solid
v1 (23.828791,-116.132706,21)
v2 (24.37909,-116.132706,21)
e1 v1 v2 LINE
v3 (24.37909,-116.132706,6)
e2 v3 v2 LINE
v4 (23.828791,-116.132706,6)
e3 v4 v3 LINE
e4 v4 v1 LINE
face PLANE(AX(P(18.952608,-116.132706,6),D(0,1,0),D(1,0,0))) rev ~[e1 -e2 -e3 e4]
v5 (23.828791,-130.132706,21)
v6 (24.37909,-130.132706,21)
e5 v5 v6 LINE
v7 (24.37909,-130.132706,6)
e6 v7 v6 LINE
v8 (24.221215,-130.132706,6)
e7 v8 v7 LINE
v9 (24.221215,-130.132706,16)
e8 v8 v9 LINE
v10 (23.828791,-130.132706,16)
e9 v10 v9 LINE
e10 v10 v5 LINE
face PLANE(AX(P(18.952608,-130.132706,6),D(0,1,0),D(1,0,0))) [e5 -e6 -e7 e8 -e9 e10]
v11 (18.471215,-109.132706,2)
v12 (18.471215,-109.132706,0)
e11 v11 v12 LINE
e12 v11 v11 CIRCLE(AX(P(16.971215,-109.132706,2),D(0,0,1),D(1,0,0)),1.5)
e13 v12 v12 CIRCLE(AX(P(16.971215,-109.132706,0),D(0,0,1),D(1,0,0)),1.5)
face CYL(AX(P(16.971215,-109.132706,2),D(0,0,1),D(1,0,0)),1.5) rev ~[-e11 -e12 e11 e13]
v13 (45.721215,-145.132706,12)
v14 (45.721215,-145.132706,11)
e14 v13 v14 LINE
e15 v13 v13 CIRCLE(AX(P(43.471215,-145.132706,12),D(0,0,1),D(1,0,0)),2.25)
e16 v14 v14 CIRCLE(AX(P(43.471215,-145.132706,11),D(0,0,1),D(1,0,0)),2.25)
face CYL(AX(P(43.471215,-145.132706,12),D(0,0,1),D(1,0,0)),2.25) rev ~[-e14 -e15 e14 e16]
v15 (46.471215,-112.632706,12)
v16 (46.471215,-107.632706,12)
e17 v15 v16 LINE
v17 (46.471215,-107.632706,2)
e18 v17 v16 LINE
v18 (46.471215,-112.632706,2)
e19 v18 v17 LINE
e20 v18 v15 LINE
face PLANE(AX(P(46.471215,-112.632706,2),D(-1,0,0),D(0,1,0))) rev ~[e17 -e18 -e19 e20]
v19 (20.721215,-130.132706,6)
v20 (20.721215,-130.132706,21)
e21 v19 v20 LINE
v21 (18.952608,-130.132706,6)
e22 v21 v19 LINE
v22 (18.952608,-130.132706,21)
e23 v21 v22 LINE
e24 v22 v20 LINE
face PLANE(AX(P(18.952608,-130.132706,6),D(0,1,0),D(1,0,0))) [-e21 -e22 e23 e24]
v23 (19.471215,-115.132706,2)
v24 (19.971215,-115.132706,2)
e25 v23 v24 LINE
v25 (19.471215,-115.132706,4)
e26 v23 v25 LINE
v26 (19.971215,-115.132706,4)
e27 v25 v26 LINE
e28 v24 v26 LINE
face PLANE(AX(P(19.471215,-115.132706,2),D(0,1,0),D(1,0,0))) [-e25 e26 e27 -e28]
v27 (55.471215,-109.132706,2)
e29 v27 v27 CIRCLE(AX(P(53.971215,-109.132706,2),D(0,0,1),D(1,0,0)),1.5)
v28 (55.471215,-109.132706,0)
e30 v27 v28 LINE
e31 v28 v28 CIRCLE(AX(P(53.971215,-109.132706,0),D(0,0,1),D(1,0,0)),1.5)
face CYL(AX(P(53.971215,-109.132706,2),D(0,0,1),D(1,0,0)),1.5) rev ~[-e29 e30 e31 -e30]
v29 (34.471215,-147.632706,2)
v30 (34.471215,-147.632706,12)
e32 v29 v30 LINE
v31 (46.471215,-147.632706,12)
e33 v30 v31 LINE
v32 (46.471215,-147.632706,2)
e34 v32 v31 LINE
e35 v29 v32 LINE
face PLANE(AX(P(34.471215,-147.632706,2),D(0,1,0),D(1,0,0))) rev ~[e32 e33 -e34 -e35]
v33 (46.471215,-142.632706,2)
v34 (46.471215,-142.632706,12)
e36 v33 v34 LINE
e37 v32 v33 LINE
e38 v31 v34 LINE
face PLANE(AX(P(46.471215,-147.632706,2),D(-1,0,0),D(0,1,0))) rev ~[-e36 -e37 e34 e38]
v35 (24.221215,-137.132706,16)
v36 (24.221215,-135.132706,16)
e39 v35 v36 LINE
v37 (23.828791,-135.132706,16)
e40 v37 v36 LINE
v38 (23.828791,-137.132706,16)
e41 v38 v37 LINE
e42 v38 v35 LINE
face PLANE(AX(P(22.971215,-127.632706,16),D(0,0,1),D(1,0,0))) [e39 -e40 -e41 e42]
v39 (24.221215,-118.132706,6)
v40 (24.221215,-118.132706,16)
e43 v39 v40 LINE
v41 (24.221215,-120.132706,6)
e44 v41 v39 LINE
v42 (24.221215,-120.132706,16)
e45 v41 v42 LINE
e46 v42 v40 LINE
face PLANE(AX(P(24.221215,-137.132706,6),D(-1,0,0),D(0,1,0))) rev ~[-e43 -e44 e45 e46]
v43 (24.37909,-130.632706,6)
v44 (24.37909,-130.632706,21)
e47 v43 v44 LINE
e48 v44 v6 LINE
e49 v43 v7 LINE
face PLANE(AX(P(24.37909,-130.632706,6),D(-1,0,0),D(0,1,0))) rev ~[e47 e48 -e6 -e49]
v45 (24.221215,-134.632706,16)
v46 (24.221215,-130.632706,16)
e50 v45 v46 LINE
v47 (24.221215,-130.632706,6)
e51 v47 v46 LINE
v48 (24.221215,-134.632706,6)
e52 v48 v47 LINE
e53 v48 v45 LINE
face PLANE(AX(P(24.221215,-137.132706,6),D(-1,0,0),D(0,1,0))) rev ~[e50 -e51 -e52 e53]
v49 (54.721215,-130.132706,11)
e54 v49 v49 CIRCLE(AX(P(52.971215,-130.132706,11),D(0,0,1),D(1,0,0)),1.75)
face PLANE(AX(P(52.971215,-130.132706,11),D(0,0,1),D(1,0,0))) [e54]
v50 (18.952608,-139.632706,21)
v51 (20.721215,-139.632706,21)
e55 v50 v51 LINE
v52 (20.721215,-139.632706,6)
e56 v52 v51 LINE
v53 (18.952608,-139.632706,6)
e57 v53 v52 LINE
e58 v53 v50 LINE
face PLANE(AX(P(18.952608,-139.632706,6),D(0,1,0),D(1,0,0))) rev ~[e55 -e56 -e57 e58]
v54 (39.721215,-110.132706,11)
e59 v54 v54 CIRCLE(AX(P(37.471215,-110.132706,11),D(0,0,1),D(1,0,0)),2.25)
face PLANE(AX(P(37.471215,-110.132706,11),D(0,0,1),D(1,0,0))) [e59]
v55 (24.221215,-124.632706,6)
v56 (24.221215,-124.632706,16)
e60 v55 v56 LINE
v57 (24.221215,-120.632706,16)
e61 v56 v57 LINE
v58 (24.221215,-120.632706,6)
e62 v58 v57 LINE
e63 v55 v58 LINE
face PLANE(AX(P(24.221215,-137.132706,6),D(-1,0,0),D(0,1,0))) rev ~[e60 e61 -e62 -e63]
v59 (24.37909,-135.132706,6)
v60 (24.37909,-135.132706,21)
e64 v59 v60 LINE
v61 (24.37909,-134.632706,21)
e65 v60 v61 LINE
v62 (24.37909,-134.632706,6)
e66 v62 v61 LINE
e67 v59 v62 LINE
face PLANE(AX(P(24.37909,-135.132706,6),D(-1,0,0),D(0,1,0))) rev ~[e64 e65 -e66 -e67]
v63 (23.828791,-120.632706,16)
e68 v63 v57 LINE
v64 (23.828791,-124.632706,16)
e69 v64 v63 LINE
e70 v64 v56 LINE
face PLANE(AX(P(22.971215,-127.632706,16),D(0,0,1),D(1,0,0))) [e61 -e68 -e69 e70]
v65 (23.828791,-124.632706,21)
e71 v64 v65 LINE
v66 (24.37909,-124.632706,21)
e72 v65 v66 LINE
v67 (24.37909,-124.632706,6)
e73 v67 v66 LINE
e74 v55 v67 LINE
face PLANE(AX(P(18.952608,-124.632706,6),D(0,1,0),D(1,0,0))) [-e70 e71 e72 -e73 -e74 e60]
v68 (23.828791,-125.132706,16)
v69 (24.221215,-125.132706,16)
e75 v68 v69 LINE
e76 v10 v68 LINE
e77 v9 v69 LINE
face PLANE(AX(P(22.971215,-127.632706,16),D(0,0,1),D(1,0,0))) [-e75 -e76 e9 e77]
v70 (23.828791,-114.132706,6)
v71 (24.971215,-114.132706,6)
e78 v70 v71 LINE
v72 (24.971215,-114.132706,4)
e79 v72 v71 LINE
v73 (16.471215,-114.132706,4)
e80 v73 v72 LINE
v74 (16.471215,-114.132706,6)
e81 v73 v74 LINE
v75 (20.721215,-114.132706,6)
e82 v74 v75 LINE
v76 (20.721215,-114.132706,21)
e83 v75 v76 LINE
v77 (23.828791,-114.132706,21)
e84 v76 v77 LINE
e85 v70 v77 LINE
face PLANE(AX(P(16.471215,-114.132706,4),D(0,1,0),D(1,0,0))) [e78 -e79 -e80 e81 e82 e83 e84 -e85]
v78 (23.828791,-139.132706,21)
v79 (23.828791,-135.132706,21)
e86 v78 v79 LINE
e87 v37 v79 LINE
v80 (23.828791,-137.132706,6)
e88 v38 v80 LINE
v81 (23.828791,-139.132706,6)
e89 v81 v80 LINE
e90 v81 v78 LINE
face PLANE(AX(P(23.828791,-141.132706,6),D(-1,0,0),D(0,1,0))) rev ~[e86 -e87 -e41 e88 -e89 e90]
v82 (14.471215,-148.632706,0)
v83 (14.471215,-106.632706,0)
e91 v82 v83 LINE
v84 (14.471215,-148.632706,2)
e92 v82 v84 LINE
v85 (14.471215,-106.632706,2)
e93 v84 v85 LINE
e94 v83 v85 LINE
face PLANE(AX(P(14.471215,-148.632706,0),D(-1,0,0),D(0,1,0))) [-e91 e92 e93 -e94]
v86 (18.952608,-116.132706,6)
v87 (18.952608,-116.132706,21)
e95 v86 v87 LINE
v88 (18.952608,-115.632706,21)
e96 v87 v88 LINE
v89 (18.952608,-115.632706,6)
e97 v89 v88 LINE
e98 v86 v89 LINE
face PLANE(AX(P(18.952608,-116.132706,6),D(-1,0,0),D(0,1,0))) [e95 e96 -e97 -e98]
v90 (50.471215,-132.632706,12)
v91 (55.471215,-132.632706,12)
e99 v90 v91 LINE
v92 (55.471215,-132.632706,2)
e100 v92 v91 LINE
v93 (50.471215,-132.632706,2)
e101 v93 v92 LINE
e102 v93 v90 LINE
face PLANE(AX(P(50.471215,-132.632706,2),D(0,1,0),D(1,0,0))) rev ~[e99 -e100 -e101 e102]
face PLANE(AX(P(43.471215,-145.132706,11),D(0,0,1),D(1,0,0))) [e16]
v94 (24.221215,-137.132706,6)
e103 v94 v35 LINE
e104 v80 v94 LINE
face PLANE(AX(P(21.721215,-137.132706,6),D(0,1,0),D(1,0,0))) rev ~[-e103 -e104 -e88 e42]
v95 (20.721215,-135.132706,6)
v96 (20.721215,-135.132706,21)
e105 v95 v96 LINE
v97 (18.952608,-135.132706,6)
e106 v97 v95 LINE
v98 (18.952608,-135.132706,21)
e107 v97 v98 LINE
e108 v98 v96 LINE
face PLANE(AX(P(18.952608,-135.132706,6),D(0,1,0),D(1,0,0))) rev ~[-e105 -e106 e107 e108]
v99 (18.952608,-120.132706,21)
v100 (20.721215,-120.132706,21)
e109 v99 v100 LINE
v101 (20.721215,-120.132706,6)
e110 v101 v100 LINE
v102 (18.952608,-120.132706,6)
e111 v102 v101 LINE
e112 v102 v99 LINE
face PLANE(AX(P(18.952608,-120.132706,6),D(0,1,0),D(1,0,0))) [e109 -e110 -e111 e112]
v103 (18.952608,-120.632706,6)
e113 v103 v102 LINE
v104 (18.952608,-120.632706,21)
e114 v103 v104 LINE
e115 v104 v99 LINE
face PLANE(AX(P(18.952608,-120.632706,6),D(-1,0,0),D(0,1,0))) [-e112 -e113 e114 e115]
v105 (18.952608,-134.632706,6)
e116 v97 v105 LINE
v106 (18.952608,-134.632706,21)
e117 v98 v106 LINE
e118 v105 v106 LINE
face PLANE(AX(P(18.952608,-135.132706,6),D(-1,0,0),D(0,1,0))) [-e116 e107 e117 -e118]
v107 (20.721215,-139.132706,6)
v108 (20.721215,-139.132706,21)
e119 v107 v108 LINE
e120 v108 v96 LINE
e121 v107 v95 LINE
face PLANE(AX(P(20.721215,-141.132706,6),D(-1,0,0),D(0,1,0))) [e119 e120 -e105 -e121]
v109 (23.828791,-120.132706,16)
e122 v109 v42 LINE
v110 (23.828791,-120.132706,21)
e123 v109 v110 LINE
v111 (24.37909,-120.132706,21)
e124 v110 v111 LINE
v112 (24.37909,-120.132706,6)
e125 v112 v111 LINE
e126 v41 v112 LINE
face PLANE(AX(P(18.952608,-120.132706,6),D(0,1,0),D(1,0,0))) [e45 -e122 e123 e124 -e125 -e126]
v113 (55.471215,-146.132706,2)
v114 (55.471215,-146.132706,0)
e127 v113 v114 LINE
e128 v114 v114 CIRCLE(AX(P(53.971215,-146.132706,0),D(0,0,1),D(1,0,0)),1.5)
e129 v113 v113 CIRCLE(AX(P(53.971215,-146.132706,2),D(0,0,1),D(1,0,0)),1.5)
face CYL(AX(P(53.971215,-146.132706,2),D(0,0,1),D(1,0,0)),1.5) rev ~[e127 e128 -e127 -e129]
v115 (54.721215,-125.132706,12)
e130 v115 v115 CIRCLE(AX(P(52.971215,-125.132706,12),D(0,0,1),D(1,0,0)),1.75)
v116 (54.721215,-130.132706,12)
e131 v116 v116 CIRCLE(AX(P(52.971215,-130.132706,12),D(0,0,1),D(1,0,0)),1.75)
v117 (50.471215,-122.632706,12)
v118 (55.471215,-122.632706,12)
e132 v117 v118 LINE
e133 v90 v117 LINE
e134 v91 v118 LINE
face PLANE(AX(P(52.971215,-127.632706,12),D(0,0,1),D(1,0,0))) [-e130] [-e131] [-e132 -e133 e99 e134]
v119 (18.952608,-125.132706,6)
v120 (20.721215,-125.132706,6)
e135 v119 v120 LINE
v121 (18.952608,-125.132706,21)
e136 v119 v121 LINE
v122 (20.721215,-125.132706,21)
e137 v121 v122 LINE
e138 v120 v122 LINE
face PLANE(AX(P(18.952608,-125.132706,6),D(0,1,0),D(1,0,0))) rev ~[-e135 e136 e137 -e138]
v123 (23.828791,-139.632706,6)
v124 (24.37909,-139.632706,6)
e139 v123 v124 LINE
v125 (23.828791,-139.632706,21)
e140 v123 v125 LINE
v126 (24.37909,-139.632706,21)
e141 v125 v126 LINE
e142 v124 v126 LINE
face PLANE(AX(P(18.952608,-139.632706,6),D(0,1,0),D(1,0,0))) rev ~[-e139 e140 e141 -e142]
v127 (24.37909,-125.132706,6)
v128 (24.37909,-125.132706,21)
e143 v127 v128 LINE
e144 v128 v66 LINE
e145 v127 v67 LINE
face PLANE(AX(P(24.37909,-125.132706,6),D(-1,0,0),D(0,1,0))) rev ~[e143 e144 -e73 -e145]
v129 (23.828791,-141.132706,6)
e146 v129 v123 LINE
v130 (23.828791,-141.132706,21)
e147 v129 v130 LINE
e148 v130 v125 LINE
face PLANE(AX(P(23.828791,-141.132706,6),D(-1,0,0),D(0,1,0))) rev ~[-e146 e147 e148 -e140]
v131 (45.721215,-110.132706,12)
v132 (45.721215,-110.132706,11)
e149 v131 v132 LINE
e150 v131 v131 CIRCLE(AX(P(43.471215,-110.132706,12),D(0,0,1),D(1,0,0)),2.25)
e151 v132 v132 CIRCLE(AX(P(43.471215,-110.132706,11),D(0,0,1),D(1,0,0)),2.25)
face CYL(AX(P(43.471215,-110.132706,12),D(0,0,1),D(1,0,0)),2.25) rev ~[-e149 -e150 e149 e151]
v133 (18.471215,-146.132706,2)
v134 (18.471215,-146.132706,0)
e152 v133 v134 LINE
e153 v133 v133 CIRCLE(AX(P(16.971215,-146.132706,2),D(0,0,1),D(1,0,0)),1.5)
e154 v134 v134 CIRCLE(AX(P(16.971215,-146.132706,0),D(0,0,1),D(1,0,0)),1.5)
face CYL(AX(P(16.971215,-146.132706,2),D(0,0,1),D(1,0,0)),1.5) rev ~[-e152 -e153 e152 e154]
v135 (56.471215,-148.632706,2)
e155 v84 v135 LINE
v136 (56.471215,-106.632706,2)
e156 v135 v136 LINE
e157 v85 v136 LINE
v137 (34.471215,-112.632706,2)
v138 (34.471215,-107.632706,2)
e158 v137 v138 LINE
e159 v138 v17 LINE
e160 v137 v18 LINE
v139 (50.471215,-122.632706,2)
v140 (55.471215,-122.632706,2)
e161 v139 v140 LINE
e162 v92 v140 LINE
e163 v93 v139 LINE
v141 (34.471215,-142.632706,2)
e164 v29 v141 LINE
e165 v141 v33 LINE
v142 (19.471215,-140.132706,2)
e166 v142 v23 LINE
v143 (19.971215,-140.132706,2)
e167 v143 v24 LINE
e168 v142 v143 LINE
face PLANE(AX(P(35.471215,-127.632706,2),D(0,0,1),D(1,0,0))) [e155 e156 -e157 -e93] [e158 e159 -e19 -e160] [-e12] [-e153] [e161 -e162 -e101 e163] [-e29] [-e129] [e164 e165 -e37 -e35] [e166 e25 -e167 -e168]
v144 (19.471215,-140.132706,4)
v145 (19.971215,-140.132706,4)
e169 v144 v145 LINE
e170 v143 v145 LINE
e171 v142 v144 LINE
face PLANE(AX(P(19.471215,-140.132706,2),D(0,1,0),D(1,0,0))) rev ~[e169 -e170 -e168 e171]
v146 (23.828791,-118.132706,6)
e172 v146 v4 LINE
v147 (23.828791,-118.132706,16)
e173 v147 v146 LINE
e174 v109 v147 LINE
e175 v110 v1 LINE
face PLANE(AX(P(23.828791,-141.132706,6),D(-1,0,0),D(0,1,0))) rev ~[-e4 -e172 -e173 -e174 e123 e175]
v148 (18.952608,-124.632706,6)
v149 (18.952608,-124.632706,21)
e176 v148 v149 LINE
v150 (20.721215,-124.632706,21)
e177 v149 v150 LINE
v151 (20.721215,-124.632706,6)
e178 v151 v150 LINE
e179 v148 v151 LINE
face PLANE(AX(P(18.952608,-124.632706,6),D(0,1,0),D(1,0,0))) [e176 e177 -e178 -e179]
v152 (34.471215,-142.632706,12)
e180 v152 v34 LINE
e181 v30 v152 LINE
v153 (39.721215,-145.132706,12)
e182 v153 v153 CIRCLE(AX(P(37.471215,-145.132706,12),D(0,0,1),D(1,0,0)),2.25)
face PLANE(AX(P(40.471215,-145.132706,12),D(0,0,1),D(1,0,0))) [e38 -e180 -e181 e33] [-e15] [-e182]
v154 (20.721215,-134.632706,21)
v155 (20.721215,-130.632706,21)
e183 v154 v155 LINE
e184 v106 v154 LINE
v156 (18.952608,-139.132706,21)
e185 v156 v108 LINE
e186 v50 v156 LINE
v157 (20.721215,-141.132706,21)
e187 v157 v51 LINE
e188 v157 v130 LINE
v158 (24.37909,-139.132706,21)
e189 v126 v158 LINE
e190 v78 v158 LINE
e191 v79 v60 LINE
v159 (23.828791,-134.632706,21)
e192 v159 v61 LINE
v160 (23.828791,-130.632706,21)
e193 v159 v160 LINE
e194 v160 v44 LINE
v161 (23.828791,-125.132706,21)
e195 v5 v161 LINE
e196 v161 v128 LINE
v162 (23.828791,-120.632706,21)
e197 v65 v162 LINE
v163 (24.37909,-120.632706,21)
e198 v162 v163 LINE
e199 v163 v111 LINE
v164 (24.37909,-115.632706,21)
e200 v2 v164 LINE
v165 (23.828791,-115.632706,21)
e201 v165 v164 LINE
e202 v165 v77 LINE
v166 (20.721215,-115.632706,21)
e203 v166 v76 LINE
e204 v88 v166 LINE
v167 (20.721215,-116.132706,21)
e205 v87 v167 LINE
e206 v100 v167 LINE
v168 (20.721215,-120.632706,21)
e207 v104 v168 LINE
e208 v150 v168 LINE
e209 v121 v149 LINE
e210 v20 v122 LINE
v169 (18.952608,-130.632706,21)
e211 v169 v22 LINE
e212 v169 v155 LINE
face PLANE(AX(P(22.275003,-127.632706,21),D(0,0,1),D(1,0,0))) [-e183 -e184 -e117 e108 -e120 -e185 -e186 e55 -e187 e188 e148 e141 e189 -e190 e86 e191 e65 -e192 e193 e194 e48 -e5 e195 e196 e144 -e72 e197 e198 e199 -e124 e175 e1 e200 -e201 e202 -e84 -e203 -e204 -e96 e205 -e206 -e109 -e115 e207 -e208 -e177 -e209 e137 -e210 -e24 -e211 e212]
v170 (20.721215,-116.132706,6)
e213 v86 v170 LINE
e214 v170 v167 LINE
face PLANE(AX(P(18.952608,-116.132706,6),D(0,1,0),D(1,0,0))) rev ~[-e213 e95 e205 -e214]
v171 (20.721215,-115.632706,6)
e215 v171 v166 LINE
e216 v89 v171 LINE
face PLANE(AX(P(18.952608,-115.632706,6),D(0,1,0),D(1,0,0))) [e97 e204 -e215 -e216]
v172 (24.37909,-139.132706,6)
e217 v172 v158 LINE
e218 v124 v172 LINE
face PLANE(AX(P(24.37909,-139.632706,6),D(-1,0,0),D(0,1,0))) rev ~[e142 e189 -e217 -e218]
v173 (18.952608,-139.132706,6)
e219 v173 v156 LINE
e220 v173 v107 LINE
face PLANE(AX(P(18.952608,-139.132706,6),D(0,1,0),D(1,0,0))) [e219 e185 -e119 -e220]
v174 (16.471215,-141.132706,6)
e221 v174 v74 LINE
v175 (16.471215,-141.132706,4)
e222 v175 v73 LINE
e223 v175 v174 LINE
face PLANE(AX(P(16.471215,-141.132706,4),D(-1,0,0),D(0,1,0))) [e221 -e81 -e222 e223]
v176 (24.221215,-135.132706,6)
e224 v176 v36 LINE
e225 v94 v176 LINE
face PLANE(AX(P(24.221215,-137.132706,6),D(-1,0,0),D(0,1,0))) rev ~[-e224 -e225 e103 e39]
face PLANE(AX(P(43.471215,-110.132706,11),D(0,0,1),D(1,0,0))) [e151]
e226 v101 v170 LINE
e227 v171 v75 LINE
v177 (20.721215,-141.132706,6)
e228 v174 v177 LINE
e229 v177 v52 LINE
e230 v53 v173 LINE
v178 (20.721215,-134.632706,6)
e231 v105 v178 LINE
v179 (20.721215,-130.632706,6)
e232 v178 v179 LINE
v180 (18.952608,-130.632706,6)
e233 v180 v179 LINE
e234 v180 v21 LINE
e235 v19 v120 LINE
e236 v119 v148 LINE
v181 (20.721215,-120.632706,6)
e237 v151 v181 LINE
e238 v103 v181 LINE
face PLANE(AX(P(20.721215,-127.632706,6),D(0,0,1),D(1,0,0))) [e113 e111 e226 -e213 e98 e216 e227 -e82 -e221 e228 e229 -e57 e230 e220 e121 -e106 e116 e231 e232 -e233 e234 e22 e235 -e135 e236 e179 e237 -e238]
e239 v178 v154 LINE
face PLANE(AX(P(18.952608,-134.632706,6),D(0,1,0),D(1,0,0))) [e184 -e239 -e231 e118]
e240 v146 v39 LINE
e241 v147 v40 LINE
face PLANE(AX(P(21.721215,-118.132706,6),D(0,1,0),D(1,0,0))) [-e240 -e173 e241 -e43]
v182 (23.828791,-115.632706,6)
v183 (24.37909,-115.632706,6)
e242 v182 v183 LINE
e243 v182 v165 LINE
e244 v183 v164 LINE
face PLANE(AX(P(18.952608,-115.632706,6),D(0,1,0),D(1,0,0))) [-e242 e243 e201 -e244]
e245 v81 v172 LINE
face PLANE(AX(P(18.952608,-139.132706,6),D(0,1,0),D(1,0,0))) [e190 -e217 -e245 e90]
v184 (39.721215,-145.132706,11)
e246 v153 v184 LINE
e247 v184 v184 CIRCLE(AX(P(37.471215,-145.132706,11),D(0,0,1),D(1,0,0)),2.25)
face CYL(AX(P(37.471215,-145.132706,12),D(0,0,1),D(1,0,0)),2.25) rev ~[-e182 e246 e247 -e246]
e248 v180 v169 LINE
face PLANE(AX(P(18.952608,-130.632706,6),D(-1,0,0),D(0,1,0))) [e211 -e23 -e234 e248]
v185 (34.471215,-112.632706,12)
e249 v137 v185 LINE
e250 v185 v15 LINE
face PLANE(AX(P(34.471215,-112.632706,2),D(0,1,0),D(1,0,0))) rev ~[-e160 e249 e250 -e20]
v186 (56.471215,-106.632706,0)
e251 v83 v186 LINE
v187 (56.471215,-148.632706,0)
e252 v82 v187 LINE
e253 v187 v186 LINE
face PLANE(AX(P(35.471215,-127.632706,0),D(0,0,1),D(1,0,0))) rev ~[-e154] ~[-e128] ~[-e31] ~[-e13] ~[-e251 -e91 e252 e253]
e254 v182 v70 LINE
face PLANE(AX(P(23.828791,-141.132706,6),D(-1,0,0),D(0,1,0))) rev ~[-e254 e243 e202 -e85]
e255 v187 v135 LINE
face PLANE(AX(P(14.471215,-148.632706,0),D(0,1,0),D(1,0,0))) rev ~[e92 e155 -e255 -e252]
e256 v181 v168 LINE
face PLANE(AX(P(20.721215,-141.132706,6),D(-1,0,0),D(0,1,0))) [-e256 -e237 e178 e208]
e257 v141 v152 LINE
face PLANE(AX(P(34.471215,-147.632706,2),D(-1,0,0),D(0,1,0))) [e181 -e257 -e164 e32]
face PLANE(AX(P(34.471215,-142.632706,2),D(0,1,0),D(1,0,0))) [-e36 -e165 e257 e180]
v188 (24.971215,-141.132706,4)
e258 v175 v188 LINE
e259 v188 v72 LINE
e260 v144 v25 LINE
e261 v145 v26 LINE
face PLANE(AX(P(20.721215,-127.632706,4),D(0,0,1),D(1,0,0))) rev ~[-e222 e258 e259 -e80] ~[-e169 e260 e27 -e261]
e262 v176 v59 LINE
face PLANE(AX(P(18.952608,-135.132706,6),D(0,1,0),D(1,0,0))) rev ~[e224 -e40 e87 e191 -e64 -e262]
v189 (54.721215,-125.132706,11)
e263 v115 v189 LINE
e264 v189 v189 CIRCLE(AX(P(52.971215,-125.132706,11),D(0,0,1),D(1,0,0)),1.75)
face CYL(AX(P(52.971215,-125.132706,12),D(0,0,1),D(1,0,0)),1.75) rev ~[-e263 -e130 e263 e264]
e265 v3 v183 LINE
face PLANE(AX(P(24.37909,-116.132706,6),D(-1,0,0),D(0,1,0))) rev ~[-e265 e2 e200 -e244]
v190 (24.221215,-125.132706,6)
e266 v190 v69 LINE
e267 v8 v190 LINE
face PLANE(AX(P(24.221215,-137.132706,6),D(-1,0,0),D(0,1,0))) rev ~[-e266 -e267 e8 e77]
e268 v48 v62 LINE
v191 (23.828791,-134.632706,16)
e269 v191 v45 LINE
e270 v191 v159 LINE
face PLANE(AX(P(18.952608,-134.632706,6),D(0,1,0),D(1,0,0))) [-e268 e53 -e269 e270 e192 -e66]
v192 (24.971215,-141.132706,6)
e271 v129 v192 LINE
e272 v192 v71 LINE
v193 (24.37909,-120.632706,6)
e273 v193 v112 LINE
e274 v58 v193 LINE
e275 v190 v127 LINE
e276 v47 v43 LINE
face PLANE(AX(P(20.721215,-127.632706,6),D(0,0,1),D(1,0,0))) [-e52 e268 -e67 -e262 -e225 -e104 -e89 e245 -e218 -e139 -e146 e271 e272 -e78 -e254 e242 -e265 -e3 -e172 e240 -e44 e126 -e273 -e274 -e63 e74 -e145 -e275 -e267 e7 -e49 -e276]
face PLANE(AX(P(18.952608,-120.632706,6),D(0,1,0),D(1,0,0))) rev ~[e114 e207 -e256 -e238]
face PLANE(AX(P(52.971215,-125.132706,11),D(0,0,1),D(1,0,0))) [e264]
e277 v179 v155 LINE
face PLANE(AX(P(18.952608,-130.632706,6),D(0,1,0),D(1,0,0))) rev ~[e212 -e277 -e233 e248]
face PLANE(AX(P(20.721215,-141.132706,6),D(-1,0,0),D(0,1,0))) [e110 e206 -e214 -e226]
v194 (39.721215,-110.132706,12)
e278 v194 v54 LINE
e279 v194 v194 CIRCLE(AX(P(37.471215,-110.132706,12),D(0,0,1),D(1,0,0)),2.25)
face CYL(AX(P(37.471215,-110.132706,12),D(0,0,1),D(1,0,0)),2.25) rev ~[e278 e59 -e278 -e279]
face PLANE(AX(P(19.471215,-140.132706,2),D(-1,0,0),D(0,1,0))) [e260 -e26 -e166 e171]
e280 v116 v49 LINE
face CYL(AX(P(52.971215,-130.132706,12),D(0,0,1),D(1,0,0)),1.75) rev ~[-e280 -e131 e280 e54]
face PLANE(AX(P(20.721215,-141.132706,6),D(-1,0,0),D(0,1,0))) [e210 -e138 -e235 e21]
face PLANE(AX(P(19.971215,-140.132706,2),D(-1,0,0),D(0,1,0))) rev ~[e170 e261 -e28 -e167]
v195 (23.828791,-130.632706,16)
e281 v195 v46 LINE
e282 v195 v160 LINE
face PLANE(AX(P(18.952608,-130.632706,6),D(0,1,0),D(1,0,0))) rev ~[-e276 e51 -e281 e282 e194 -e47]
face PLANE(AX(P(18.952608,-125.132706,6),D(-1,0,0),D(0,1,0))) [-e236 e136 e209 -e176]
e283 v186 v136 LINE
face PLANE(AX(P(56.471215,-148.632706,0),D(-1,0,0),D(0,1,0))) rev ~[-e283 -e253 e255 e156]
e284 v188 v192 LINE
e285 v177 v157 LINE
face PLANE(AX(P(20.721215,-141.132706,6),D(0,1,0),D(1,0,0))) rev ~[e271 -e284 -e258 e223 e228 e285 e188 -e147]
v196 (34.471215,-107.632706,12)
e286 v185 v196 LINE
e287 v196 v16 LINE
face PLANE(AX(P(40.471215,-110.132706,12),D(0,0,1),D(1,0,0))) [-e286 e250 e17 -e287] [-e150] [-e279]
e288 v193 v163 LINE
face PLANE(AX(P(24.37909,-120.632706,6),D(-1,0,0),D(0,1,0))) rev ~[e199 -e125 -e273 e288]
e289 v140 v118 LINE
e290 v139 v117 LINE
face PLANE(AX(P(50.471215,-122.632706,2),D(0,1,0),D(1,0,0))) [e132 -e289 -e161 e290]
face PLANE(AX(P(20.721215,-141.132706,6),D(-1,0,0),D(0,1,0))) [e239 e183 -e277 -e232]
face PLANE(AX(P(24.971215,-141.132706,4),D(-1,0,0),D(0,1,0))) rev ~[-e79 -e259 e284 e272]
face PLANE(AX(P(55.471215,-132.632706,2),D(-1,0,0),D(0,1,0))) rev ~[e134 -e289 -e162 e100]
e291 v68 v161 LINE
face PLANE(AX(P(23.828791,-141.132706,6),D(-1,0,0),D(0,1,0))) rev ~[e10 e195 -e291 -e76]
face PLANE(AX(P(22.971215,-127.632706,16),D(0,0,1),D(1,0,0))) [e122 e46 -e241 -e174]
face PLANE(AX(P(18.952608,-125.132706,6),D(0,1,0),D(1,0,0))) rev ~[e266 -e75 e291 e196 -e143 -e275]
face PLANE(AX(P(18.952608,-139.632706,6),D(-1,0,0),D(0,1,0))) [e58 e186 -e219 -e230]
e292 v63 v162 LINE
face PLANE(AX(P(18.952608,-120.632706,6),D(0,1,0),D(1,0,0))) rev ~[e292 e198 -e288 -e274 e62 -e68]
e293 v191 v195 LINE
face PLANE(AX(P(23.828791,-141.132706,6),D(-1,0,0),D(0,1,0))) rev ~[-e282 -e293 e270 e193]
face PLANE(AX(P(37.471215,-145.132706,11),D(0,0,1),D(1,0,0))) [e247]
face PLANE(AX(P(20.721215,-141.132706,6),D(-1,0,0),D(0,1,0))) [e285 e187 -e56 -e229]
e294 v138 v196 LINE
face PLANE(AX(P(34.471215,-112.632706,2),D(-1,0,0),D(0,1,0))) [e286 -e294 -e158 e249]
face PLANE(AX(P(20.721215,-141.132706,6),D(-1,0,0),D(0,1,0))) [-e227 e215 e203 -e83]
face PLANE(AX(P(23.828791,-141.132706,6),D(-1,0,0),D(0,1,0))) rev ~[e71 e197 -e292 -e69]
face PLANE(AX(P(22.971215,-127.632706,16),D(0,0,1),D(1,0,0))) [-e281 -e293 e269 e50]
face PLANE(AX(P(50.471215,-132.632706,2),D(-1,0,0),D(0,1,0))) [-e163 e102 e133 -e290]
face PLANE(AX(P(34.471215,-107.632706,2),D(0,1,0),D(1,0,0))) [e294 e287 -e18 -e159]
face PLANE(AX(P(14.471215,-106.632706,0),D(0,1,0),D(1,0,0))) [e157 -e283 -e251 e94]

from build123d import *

# Parameters (mm, degrees)
SKETCH1_W           = 42
SKETCH1_H           = 42
BOSS_EXTRUDE1_DEPTH = 2
SKETCH2_W           = 0.5
SKETCH2_H           = 25
BOSS_EXTRUDE2_DEPTH = 2
SKETCH4_W           = 8.5
SKETCH4_H           = 27
BOSS_EXTRUDE3_DEPTH = 2
SKETCH5_W           = 5.42648105
SKETCH5_H           = 0.5
BOSS_EXTRUDE4_DEPTH = 15
SKETCH6_W           = 3.107576182
SKETCH6_H           = 27
BOSS_EXTRUDE5_DEPTH = 15
SKETCH7_W           = 2.5
SKETCH7_H           = 19
BOSS_EXTRUDE6_DEPTH = 10
SKETCH8_W           = 12
SKETCH8_H           = 5
SKETCH8_W_2         = 5
SKETCH8_H_2         = 10
BOSS_EXTRUDE7_DEPTH = 10
SKETCH9_R           = 2.25
SKETCH9_R_2         = 1.75
CUT_EXTRUDE1_DEPTH  = 1
SKETCH10_R          = 1.5
CUT_EXTRUDE2_DEPTH  = 3


with BuildPart() as part:
    # Sketch1 → Boss-Extrude1 (new body)
    with BuildSketch(Plane.XY):
        with Locations((35.471214637, -127.632705913)):
            Rectangle(SKETCH1_W, SKETCH1_H)
    extrude(amount=BOSS_EXTRUDE1_DEPTH)

    # Sketch2 → Boss-Extrude2 (add)
    with BuildSketch(Plane.XY.offset(2)):
        with Locations((19.721214637, -127.632705913)):
            Rectangle(SKETCH2_W, SKETCH2_H)
    extrude(amount=BOSS_EXTRUDE2_DEPTH)

    # Sketch4 → Boss-Extrude3 (add)
    with BuildSketch(Plane.XY.offset(4)):
        with Locations((20.721214637, -127.632705913)):
            Rectangle(SKETCH4_W, SKETCH4_H)
    extrude(amount=BOSS_EXTRUDE3_DEPTH)

    # Sketch5 → Boss-Extrude4 (add)
    with BuildSketch(Plane.XY.offset(6)):
        with Locations((21.665849022, -115.882705913)):
            Rectangle(SKETCH5_W, SKETCH5_H)
        with Locations((21.665849022, -120.382705913)):
            Rectangle(SKETCH5_W, SKETCH5_H)
        with Locations((21.665849022, -124.882705913)):
            Rectangle(SKETCH5_W, SKETCH5_H)
        with Locations((21.665849022, -130.382705913)):
            Rectangle(SKETCH5_W, SKETCH5_H)
        with Locations((21.665849022, -134.882705913)):
            Rectangle(SKETCH5_W, SKETCH5_H)
        with Locations((21.665849022, -139.382705913)):
            Rectangle(SKETCH5_W, SKETCH5_H)
    extrude(amount=BOSS_EXTRUDE4_DEPTH)

    # Sketch6 → Boss-Extrude5 (add)
    with BuildSketch(Plane.XY.offset(6)):
        with Locations((22.275002728, -127.632705913)):
            Rectangle(SKETCH6_W, SKETCH6_H)
    extrude(amount=BOSS_EXTRUDE5_DEPTH)

    # Sketch7 → Boss-Extrude6 (add)
    with BuildSketch(Plane.XY.offset(6)):
        with Locations((22.971214637, -127.632705913)):
            Rectangle(SKETCH7_W, SKETCH7_H)
    extrude(amount=BOSS_EXTRUDE6_DEPTH)

    # Sketch8 → Boss-Extrude7 (add)
    with BuildSketch(Plane.XY.offset(2)):
        with Locations((40.471214637, -110.132705913)):
            Rectangle(SKETCH8_W, SKETCH8_H)
        with Locations((40.471214637, -145.132705913)):
            Rectangle(SKETCH8_W, SKETCH8_H)
        with Locations((52.971214637, -127.632705913)):
            Rectangle(SKETCH8_W_2, SKETCH8_H_2)
    extrude(amount=BOSS_EXTRUDE7_DEPTH)

    # Sketch9 → Cut-Extrude1 (cut)
    with BuildSketch(Plane.XY.offset(12)):
        with Locations((37.471214637, -110.132705913)):
            Circle(SKETCH9_R)
        with Locations((43.471214637, -110.132705913)):
            Circle(SKETCH9_R)
        with Locations((52.971214637, -125.132705913)):
            Circle(SKETCH9_R_2)
        with Locations((52.971214637, -130.132705913)):
            Circle(SKETCH9_R_2)
        with Locations((43.471214637, -145.132705913)):
            Circle(SKETCH9_R)
        with Locations((37.471214637, -145.132705913)):
            Circle(SKETCH9_R)
    extrude(amount=-CUT_EXTRUDE1_DEPTH, mode=Mode.SUBTRACT)

    # Sketch10 → Cut-Extrude2 (cut, through all)
    with BuildSketch(Plane.XY.offset(2)):
        with Locations((53.971214637, -109.132705913)):
            Circle(SKETCH10_R)
        with Locations((16.971214637, -109.132705913)):
            Circle(SKETCH10_R)
        with Locations((16.971214637, -146.132705913)):
            Circle(SKETCH10_R)
        with Locations((53.971214637, -146.132705913)):
            Circle(SKETCH10_R)
    extrude(amount=-CUT_EXTRUDE2_DEPTH, mode=Mode.SUBTRACT)


solid = part.part
